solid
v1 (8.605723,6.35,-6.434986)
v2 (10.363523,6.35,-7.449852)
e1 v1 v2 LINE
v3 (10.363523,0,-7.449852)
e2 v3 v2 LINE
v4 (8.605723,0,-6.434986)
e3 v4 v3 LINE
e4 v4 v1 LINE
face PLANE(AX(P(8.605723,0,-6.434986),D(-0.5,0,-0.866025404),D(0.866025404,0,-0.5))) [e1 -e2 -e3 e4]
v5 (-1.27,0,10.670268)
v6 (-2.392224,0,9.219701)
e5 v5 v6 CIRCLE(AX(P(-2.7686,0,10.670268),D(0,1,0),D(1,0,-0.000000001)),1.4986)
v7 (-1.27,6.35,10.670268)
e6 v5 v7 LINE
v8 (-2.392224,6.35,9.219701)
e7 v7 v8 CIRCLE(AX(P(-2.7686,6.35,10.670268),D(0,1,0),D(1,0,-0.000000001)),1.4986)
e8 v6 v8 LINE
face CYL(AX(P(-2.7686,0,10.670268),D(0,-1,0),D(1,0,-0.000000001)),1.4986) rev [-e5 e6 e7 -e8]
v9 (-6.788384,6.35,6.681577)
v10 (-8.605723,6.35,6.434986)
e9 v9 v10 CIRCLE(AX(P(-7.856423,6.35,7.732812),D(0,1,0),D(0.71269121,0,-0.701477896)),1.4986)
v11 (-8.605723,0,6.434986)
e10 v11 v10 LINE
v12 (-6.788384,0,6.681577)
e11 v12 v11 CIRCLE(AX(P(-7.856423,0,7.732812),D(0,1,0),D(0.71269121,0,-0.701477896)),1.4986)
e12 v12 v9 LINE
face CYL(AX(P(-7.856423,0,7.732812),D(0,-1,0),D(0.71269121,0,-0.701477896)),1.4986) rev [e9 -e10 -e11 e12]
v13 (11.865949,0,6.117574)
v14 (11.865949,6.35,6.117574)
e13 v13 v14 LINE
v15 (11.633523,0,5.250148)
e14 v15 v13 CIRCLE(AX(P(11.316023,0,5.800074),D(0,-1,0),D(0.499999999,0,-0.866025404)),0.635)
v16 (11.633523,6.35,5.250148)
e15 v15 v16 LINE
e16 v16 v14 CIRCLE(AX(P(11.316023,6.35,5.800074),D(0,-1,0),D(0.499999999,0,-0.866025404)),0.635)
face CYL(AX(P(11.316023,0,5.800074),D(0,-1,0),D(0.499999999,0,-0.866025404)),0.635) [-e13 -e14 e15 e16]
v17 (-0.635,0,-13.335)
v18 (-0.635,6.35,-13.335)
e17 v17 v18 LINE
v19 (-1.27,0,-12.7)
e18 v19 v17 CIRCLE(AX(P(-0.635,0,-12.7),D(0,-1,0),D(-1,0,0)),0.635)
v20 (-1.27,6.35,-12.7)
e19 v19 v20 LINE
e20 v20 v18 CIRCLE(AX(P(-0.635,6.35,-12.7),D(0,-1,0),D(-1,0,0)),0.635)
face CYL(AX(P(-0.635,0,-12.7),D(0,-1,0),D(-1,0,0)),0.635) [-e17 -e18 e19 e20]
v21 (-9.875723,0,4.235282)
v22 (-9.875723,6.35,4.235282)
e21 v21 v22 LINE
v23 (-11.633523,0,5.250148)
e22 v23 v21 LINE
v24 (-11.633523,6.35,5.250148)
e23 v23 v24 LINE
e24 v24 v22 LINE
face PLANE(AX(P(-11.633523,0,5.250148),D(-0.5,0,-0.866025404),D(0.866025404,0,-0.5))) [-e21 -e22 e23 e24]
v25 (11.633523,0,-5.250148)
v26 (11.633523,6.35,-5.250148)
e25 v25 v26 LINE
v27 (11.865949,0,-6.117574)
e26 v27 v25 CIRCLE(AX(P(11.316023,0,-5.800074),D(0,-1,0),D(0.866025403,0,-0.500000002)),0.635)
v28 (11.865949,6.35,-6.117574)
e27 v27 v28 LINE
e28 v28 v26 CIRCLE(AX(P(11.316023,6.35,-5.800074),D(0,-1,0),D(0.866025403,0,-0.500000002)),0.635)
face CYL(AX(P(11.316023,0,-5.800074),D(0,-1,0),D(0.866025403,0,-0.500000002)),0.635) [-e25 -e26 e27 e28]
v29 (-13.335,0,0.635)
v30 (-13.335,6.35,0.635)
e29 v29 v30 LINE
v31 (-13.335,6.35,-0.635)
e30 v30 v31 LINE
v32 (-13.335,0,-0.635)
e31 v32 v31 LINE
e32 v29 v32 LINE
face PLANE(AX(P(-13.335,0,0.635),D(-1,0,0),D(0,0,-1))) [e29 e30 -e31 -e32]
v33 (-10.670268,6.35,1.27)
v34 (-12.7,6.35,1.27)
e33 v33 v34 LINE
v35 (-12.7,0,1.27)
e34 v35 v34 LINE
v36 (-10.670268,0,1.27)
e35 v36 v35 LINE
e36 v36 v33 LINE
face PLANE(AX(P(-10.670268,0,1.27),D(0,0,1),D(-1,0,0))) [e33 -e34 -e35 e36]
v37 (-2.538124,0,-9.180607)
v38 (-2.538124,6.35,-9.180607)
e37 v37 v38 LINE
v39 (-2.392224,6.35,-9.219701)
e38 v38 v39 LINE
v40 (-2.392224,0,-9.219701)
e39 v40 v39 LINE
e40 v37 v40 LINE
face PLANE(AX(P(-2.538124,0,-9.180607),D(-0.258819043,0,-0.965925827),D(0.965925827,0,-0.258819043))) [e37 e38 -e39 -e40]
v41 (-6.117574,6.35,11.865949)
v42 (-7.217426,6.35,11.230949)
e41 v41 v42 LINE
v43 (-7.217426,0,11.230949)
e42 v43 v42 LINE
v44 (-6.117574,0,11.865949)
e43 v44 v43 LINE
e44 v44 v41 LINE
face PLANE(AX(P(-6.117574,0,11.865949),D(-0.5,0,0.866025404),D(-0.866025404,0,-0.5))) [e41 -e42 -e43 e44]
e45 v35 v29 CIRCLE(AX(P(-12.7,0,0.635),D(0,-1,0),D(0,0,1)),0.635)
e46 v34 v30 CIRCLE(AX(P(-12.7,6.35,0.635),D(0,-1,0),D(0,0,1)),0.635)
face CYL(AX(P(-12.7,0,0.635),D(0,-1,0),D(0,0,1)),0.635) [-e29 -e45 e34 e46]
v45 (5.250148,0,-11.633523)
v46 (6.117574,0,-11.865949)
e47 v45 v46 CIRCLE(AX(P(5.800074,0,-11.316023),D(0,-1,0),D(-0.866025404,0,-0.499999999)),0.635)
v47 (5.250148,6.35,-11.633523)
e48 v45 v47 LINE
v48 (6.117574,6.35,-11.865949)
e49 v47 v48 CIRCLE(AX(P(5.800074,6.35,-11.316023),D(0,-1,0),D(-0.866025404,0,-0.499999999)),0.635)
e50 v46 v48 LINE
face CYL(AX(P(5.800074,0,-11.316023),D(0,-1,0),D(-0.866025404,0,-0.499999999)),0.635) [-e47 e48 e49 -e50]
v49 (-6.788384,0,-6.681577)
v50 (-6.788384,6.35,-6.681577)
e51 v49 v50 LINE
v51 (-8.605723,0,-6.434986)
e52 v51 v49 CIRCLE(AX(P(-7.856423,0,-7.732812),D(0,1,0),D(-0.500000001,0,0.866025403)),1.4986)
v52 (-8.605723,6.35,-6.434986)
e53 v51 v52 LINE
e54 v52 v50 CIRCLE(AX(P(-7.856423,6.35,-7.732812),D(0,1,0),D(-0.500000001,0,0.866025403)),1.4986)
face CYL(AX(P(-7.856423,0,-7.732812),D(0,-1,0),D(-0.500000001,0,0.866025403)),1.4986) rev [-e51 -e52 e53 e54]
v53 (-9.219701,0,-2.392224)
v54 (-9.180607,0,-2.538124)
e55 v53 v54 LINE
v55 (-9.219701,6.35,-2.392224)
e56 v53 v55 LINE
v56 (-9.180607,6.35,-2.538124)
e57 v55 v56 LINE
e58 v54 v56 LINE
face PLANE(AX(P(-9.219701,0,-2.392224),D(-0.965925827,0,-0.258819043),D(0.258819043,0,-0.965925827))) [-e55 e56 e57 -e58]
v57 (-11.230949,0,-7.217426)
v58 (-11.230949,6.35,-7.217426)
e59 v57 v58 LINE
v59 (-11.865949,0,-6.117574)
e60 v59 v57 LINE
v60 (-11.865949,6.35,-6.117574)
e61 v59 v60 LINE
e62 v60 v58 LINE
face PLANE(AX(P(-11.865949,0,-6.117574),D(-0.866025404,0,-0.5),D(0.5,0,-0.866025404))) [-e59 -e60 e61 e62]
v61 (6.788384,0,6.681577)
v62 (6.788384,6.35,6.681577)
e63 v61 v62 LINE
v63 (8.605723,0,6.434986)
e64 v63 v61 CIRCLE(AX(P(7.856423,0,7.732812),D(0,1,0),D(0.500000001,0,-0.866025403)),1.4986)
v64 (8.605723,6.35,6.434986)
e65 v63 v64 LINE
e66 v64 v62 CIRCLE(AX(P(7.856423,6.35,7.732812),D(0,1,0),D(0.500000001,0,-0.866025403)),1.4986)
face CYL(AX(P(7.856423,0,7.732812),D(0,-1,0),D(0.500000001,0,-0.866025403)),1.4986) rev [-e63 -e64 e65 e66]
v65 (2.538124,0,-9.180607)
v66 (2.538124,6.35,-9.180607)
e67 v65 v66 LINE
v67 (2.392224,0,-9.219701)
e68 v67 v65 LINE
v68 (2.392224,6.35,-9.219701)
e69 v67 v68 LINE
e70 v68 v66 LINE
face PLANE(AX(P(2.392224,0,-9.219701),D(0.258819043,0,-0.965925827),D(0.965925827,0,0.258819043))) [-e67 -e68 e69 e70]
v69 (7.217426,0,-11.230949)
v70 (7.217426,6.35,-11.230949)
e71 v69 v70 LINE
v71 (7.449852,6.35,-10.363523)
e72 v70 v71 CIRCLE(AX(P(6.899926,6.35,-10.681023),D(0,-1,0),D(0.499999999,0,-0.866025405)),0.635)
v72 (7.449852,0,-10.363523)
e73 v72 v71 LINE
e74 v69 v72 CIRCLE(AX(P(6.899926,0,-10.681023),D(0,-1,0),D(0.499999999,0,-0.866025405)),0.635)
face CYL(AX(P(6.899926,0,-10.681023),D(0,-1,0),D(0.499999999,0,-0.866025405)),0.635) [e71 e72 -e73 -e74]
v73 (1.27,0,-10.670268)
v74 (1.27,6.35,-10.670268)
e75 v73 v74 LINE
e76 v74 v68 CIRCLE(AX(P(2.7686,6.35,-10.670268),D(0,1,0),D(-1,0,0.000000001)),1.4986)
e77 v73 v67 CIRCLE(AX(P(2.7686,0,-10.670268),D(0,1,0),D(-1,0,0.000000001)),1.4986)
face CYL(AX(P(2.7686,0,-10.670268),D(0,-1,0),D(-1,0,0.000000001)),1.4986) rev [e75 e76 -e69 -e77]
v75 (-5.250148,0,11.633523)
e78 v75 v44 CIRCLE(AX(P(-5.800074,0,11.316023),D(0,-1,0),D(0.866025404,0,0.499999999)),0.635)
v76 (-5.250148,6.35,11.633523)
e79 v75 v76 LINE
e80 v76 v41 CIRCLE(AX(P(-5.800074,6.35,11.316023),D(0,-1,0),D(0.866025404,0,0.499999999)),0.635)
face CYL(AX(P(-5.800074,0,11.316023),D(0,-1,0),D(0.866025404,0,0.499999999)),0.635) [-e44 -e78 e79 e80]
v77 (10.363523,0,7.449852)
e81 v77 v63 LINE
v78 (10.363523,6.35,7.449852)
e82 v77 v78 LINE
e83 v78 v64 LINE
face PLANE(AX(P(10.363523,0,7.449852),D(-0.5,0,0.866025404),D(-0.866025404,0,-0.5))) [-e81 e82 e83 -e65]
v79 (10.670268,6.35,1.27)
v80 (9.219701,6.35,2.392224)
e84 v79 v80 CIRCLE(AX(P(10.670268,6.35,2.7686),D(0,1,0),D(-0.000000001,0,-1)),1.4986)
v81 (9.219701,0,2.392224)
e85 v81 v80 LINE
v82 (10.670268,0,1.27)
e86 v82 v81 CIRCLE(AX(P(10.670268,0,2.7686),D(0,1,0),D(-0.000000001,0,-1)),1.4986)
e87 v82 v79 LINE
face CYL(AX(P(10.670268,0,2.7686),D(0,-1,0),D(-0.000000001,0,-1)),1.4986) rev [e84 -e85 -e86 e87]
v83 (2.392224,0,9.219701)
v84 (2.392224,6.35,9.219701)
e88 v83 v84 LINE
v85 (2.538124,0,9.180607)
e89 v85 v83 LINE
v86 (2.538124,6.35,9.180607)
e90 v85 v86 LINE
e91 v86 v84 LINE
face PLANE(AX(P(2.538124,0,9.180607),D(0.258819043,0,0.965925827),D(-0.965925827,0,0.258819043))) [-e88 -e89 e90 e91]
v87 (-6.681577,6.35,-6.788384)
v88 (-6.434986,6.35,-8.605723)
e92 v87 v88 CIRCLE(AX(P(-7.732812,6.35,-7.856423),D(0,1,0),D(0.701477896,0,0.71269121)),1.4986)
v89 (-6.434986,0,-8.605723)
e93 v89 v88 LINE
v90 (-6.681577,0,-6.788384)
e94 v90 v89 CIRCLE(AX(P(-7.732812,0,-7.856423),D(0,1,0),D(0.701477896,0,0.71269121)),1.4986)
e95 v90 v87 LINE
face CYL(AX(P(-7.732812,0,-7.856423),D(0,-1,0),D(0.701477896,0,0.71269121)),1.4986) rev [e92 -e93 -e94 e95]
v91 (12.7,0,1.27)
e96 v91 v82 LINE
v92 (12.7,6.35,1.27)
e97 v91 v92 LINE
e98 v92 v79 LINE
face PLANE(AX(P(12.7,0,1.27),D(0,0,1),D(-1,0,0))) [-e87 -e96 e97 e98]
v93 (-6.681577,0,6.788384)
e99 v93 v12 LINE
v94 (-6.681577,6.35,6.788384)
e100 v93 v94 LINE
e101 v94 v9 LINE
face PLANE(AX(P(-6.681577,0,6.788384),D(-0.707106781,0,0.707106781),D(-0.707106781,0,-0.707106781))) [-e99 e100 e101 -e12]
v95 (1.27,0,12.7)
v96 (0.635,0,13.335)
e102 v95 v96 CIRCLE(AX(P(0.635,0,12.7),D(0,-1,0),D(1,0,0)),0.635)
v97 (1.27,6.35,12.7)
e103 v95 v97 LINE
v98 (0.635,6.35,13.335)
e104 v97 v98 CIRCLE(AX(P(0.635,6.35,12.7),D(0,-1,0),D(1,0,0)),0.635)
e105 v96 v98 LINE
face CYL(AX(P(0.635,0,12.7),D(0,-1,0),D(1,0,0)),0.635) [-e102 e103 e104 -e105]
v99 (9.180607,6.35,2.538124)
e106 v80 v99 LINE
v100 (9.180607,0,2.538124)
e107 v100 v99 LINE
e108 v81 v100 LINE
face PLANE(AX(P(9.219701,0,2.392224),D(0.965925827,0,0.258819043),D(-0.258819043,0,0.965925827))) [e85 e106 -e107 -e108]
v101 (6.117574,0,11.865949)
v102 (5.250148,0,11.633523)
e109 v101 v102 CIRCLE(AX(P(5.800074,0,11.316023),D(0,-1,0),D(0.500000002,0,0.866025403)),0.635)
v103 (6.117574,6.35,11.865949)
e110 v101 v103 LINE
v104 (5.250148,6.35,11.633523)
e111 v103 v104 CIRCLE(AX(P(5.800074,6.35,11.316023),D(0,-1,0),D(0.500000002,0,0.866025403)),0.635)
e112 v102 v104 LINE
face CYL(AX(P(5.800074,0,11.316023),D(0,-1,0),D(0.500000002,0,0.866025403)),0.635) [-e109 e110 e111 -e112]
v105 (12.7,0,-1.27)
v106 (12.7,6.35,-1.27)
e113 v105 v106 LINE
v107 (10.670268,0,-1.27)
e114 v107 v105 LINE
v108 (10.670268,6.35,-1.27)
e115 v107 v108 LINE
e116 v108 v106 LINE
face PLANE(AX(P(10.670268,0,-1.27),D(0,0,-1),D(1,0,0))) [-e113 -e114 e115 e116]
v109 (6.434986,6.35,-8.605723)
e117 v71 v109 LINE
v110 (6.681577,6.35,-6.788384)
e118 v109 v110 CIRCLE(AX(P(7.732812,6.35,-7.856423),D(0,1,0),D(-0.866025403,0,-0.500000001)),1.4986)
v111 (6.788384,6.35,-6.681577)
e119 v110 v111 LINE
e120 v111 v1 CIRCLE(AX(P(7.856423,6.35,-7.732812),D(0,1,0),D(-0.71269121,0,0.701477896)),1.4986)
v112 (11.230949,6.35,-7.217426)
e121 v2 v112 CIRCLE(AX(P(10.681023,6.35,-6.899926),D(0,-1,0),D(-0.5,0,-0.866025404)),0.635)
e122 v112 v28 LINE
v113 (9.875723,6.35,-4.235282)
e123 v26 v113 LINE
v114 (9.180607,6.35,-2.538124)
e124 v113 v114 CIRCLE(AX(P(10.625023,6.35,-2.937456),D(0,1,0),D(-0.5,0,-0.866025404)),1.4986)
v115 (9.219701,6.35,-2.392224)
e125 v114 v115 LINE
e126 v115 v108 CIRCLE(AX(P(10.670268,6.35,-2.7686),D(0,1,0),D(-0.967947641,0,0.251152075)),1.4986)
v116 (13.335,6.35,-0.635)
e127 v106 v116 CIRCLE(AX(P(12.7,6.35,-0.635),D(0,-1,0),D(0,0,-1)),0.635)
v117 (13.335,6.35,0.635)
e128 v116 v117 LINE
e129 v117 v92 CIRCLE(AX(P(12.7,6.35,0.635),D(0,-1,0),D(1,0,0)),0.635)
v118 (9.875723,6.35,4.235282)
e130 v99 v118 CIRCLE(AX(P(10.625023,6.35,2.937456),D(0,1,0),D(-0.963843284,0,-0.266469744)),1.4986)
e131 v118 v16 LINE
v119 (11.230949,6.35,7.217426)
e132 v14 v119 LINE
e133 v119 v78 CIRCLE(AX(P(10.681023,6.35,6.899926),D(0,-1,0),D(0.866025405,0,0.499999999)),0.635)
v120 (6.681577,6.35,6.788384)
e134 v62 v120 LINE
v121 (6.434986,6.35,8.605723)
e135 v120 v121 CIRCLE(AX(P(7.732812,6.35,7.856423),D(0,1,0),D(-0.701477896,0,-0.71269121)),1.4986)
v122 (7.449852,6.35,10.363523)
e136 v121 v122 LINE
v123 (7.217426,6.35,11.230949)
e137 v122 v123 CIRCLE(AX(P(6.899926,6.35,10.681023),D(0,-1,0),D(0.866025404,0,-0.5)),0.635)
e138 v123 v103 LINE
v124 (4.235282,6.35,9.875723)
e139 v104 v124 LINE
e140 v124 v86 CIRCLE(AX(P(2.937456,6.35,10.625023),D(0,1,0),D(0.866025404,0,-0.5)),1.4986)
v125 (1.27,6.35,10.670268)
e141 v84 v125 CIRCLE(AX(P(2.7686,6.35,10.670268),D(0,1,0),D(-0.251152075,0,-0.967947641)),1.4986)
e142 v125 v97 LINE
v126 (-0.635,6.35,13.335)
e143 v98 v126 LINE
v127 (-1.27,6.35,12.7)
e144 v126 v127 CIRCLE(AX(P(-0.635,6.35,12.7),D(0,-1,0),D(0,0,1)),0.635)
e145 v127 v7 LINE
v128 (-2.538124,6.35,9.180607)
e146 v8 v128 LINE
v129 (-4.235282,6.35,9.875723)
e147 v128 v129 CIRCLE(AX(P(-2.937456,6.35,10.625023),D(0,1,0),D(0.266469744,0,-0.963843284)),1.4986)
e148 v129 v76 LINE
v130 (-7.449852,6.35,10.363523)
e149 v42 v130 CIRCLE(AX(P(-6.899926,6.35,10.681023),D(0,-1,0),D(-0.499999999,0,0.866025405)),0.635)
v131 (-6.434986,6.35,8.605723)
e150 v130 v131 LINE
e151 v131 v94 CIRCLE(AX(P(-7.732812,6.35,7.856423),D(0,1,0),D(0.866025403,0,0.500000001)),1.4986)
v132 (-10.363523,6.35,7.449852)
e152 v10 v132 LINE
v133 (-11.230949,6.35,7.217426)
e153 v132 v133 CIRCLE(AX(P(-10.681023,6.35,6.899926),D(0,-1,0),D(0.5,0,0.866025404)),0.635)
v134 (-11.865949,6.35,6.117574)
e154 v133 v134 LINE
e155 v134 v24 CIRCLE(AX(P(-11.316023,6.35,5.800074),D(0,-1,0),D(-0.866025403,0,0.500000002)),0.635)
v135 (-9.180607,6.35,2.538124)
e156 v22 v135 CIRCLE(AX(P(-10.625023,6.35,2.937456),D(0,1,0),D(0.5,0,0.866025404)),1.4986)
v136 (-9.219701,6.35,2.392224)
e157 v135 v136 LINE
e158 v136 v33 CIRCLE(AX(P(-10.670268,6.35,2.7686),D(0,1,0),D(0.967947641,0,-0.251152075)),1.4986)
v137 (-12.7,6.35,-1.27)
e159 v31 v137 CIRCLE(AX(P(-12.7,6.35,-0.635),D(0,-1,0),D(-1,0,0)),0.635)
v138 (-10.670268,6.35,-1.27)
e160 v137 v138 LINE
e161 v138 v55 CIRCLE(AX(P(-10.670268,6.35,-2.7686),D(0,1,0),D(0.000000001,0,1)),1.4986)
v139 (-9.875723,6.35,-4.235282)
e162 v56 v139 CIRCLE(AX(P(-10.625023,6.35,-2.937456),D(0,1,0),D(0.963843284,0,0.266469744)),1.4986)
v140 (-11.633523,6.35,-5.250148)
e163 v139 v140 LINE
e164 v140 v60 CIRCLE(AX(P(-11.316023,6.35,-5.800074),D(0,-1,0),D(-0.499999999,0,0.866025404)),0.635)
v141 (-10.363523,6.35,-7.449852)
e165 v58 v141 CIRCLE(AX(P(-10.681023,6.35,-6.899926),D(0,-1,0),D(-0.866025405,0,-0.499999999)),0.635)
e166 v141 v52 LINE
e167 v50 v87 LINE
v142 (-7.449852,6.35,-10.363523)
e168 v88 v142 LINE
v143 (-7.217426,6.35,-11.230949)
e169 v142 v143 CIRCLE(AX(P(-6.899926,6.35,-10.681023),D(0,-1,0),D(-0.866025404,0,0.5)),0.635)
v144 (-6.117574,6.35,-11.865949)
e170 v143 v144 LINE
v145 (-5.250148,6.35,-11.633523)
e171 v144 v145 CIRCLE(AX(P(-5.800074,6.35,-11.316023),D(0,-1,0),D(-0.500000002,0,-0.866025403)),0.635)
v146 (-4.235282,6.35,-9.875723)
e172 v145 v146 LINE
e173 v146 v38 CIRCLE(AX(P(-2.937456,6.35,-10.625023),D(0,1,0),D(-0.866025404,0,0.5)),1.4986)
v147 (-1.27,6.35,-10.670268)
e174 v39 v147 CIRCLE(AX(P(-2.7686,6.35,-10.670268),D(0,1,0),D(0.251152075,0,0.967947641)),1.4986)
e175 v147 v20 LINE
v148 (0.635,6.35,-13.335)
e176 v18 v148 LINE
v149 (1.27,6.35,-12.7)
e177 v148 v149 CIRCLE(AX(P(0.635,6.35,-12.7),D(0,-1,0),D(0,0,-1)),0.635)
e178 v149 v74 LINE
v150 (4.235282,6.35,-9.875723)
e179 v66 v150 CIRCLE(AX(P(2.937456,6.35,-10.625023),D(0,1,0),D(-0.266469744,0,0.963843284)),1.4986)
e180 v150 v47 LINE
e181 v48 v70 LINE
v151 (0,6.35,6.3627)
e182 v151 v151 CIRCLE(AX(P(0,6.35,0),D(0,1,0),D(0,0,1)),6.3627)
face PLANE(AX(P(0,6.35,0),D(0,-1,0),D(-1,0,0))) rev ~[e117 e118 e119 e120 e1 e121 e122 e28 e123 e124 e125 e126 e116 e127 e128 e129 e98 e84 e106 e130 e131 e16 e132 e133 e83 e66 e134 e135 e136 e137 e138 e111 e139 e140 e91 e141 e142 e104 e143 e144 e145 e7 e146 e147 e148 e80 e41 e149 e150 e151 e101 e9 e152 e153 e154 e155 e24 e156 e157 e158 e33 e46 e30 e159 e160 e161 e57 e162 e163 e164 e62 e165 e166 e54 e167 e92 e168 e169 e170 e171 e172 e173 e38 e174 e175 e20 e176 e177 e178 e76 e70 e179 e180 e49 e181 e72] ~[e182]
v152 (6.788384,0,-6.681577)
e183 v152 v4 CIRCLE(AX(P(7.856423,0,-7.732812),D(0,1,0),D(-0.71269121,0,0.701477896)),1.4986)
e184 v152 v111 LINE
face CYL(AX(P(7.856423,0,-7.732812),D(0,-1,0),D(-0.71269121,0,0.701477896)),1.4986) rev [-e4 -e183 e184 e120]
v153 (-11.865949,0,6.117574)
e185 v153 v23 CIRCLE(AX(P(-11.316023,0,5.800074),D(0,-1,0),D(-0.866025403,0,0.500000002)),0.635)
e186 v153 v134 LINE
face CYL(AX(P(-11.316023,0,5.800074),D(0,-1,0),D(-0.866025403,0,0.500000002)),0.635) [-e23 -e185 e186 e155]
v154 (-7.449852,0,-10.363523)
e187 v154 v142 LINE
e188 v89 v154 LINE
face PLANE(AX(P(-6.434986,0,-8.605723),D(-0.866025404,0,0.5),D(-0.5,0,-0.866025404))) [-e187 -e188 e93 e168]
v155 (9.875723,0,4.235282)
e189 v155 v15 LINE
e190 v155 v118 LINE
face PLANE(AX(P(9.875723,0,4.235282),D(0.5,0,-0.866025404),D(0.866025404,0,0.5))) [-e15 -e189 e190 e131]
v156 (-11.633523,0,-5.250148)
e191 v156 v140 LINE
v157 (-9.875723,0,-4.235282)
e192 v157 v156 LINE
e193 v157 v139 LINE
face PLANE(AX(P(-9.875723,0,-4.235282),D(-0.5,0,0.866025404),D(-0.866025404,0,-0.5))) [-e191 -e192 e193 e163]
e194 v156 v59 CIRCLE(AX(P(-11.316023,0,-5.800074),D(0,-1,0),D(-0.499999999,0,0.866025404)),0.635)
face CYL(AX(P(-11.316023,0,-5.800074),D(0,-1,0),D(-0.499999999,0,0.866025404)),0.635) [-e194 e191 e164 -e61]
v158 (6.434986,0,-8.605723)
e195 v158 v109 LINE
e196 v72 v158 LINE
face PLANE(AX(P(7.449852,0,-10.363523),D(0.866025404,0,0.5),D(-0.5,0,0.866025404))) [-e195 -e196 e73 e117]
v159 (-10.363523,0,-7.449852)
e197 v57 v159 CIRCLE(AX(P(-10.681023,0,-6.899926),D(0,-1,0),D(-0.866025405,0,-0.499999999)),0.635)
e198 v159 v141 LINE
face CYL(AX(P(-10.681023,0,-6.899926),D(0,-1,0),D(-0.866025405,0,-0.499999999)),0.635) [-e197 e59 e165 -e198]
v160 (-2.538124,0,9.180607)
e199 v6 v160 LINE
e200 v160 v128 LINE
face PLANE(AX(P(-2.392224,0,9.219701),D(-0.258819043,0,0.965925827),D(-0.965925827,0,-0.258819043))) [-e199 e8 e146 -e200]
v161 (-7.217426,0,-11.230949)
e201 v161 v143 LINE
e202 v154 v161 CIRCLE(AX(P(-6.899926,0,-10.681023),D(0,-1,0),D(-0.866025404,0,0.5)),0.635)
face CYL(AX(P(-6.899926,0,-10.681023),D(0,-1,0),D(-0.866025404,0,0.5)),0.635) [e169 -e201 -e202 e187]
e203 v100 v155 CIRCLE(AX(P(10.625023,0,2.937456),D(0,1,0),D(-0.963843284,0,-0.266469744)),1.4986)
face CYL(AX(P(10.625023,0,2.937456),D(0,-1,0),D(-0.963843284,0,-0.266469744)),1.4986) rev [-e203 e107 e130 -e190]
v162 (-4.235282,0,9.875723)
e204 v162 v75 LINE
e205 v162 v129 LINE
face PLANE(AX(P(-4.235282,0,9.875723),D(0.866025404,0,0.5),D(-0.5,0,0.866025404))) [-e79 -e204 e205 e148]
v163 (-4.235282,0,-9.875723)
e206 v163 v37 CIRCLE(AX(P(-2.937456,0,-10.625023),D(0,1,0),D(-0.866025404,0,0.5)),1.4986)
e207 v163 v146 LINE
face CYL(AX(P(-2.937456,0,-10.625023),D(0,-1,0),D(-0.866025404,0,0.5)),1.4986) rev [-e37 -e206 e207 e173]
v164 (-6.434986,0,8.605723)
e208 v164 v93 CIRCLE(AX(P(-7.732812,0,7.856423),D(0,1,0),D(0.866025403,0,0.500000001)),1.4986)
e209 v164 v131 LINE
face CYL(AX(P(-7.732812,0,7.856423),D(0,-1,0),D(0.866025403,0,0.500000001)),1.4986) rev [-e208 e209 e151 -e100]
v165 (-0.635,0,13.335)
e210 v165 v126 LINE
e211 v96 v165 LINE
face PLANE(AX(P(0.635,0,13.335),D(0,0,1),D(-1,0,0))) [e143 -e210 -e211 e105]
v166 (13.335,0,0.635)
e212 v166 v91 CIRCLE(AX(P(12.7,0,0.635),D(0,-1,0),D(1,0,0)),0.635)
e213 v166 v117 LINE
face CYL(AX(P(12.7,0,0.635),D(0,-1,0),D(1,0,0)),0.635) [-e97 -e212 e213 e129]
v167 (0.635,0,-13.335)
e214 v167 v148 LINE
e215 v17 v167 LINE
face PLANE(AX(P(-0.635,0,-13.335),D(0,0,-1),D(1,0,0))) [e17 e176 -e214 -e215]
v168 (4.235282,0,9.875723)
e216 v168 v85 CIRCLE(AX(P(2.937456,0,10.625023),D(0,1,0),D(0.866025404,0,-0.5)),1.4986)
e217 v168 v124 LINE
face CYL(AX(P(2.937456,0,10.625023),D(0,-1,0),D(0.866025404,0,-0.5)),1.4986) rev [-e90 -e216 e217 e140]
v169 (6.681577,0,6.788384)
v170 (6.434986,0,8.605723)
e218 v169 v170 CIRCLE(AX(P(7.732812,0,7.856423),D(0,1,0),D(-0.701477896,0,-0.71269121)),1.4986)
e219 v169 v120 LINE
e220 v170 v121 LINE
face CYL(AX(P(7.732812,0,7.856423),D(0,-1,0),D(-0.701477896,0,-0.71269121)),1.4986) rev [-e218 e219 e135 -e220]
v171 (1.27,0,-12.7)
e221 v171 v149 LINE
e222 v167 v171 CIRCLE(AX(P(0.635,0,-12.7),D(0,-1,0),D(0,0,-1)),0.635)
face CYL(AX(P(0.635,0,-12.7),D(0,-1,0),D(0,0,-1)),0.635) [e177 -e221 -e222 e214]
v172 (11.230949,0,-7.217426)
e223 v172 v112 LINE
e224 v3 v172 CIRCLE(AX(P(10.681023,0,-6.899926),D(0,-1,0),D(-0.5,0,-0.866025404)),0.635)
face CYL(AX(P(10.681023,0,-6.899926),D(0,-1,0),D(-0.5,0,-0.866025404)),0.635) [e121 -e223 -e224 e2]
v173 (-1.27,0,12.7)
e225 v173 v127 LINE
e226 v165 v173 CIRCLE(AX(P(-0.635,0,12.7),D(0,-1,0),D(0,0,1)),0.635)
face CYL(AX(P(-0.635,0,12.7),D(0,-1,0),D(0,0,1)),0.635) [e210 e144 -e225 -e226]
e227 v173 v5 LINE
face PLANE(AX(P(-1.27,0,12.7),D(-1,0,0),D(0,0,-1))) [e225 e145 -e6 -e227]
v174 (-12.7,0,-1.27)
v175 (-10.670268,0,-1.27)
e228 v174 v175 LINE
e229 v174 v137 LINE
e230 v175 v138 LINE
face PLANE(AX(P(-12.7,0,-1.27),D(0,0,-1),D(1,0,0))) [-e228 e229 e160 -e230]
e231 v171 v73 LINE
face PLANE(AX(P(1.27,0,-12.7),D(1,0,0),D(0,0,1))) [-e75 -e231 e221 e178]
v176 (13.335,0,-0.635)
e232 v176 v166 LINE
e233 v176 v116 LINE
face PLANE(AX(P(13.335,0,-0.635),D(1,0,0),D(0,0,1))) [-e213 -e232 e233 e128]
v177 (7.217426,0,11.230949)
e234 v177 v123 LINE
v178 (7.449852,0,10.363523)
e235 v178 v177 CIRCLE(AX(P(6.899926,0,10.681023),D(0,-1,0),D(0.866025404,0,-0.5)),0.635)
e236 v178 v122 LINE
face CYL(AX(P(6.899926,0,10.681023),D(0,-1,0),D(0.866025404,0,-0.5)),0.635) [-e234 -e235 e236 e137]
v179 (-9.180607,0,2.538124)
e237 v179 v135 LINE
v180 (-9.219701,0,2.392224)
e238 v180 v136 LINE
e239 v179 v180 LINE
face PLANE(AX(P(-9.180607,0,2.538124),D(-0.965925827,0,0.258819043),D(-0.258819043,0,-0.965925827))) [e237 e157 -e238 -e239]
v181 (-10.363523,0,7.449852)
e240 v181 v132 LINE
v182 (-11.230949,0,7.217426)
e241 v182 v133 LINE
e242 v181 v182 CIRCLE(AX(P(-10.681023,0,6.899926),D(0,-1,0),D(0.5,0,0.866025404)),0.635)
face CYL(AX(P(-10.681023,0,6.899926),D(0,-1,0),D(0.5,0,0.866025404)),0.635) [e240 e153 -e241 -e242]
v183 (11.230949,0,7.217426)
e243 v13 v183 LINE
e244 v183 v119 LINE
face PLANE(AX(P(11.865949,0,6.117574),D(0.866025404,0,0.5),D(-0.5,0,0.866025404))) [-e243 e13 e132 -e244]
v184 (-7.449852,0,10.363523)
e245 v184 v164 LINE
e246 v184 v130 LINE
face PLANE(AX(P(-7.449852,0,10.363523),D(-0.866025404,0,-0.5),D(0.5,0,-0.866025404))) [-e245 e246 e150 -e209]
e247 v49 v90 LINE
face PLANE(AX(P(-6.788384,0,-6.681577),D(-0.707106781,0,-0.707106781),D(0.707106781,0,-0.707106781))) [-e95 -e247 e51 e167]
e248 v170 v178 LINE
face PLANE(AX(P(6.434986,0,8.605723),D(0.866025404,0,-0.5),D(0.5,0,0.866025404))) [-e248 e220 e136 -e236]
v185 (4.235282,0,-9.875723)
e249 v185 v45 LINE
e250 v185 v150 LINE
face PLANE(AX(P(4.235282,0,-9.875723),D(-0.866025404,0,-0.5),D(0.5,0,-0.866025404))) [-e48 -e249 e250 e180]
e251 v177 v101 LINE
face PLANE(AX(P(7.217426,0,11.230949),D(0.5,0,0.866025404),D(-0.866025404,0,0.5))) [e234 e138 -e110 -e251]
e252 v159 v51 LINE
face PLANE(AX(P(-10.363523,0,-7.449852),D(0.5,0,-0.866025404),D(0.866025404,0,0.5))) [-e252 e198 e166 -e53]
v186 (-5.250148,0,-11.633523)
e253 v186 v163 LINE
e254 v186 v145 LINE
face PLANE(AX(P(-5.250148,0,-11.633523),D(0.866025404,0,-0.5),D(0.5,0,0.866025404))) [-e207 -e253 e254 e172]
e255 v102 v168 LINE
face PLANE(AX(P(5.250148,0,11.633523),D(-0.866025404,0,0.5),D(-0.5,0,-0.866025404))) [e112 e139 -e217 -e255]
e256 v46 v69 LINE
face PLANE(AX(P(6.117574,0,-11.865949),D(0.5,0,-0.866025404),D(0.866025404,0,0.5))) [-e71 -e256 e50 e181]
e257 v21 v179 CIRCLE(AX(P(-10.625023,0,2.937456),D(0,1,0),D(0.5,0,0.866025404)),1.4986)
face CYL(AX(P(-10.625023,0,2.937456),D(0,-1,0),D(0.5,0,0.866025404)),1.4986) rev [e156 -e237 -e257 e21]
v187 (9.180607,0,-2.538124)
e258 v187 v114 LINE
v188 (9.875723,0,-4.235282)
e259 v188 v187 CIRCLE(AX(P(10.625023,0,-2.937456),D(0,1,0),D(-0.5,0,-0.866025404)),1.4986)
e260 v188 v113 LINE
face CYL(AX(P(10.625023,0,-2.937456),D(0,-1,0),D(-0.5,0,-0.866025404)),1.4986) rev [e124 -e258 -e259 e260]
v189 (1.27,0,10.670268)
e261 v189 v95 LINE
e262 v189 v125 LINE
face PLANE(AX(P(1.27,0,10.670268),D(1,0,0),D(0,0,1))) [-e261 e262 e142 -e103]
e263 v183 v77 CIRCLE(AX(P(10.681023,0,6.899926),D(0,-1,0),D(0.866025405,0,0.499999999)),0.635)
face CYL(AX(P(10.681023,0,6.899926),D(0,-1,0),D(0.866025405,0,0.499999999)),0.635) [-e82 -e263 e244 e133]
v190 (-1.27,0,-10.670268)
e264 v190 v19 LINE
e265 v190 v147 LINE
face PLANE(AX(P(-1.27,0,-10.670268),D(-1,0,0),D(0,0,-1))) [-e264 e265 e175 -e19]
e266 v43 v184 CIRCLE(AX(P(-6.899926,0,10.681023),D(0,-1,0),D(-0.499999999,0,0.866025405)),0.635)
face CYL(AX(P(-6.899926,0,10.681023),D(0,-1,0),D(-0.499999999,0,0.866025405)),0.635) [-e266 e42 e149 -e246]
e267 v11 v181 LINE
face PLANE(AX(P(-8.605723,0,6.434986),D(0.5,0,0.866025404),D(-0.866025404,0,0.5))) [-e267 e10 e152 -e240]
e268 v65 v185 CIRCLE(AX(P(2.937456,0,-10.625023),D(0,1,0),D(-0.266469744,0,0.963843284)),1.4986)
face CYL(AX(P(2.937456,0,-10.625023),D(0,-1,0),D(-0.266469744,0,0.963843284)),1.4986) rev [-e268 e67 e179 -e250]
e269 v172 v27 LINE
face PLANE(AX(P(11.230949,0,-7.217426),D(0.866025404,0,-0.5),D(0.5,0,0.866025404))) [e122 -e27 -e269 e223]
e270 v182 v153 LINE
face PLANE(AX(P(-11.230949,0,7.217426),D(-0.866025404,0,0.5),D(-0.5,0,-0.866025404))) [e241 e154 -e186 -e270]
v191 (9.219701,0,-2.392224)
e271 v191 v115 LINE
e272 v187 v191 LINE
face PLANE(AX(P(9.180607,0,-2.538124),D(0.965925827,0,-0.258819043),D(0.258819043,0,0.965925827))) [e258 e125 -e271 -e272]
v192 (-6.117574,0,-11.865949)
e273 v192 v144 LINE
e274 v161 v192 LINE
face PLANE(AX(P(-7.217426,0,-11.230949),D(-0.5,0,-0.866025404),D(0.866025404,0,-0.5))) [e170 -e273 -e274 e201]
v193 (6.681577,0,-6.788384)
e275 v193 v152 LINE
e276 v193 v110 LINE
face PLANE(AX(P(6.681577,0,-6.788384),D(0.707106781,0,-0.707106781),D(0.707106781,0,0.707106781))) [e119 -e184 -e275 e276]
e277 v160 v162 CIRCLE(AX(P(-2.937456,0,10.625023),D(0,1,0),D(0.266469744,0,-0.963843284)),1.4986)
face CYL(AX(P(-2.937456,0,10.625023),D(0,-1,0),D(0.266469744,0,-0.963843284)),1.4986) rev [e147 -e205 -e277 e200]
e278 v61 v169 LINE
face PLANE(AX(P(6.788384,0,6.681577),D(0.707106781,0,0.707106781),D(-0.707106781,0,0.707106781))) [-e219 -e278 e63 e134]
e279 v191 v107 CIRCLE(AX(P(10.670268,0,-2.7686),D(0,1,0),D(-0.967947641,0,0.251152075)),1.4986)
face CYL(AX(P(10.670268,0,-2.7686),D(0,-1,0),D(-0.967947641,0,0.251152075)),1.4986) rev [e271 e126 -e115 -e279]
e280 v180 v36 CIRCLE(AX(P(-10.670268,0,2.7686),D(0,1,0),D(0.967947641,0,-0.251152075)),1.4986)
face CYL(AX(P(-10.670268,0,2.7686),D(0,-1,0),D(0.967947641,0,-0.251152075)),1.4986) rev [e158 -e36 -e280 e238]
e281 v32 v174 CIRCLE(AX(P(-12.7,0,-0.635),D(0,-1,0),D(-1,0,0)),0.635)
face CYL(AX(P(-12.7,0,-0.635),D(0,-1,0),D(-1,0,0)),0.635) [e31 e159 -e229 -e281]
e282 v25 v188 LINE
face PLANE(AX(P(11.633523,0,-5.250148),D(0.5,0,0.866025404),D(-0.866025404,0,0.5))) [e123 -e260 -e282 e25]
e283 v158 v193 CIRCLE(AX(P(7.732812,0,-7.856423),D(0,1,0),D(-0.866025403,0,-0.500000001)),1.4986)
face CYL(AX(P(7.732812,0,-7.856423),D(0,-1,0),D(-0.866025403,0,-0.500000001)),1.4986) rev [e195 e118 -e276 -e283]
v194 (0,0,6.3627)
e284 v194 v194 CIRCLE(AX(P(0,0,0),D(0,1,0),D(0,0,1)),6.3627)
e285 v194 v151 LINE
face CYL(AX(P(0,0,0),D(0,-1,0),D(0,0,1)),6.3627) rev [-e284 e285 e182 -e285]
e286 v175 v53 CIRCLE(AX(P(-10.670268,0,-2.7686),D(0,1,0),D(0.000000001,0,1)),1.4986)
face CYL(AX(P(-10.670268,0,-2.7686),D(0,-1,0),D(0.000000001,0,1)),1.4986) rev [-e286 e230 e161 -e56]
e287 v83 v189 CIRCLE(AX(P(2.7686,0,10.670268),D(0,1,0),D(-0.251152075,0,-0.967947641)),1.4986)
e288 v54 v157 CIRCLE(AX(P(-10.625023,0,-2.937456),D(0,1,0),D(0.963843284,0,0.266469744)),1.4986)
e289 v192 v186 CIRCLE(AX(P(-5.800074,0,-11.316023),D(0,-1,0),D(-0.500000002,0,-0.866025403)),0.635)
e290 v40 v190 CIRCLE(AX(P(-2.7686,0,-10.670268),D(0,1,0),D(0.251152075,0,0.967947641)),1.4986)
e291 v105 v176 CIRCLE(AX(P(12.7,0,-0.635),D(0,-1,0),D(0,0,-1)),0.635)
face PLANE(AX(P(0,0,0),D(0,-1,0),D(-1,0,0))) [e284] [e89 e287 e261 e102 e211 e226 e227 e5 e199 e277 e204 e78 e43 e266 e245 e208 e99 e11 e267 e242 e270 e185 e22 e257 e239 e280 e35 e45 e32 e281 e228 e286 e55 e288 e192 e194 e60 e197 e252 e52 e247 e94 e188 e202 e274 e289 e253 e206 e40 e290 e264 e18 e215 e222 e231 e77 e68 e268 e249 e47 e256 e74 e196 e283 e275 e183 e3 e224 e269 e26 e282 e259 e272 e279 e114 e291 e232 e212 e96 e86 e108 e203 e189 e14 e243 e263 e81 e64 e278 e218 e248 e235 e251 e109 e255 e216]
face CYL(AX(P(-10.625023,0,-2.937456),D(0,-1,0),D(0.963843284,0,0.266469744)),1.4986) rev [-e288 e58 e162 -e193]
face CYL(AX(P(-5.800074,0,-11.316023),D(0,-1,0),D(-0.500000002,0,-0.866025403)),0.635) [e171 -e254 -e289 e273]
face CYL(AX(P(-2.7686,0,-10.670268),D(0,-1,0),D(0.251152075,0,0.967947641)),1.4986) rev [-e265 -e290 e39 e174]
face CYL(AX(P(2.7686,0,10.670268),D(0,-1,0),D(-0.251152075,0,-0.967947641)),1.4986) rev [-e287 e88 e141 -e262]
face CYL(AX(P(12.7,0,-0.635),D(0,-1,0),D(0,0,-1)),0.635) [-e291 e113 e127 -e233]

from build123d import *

# Parameters (mm, degrees)
SKETCH1_R           = 6.3627
BOSS_EXTRUDE1_DEPTH = 6.35


with BuildPart() as part:
    # Sketch1 → Boss-Extrude1 (new body)
    with BuildSketch(Plane(origin=(0, 0, 0), x_dir=(1, 0, 0), z_dir=(0, 1, 0))):
        with BuildLine():
            Line((-1.27, 10.670267616), (-1.27, 12.7))
            ThreePointArc((-1.27, 12.7), (-1.084012806, 13.149012806), (-0.635, 13.335))
            Line((-0.635, 13.335), (0.635, 13.335))
            ThreePointArc((0.635, 13.335), (1.084012806, 13.149012806), (1.27, 12.7))
            Line((1.27, 12.7), (1.27, 10.670267616))
            ThreePointArc((1.27, 10.670267616), (1.583306834, 9.753271395), (2.392223502, 9.219701281))
            Line((2.392223502, 9.219701281), (2.538124316, 9.180607276))
            ThreePointArc((2.538124316, 9.180607276), (3.505451757, 9.238234215), (4.235281545, 9.875722821))
            Line((4.235281545, 9.875722821), (5.250147737, 11.633522628))
            ThreePointArc((5.250147737, 11.633522628), (5.635723775, 11.929385528), (6.117573869, 11.865948759))
            Line((6.117573869, 11.865948759), (7.217426131, 11.230948759))
            ThreePointArc((7.217426131, 11.230948759), (7.513289031, 10.845372722), (7.449852263, 10.363522628))
            Line((7.449852263, 10.363522628), (6.434986071, 8.605722821))
            ThreePointArc((6.434986071, 8.605722821), (6.247819637, 7.654927381), (6.681576965, 6.788383774))
            Line((6.681576965, 6.788383774), (6.788383774, 6.681576965))
            ThreePointArc((6.788383774, 6.681576965), (7.654927381, 6.247819637), (8.605722821, 6.434986071))
            Line((8.605722821, 6.434986071), (10.363522628, 7.449852263))
            ThreePointArc((10.363522628, 7.449852263), (10.845372722, 7.513289031), (11.230948759, 7.217426131))
            Line((11.230948759, 7.217426131), (11.865948759, 6.117573869))
            ThreePointArc((11.865948759, 6.117573869), (11.929385528, 5.635723775), (11.633522628, 5.250147737))
            Line((11.633522628, 5.250147737), (9.875722821, 4.235281545))
            ThreePointArc((9.875722821, 4.235281545), (9.238234215, 3.505451757), (9.180607276, 2.538124316))
            Line((9.180607276, 2.538124316), (9.219701281, 2.392223502))
            ThreePointArc((9.219701281, 2.392223502), (9.753271395, 1.583306834), (10.670267616, 1.27))
            Line((10.670267616, 1.27), (12.7, 1.27))
            ThreePointArc((12.7, 1.27), (13.149012806, 1.084012806), (13.335, 0.635))
            Line((13.335, 0.635), (13.335, -0.635))
            ThreePointArc((13.335, -0.635), (13.149012806, -1.084012806), (12.7, -1.27))
            Line((12.7, -1.27), (10.670267616, -1.27))
            ThreePointArc((10.670267616, -1.27), (9.753271395, -1.583306834), (9.219701281, -2.392223502))
            Line((9.219701281, -2.392223502), (9.180607276, -2.538124316))
            ThreePointArc((9.180607276, -2.538124316), (9.238234215, -3.505451757), (9.875722821, -4.235281545))
            Line((9.875722821, -4.235281545), (11.633522628, -5.250147737))
            ThreePointArc((11.633522628, -5.250147737), (11.929385528, -5.635723775), (11.865948759, -6.117573869))
            Line((11.865948759, -6.117573869), (11.230948759, -7.217426131))
            ThreePointArc((11.230948759, -7.217426131), (10.845372722, -7.513289031), (10.363522628, -7.449852263))
            Line((10.363522628, -7.449852263), (8.605722821, -6.434986071))
            ThreePointArc((8.605722821, -6.434986071), (7.654927381, -6.247819637), (6.788383774, -6.681576965))
            Line((6.788383774, -6.681576965), (6.681576965, -6.788383774))
            ThreePointArc((6.681576965, -6.788383774), (6.247819637, -7.654927381), (6.434986071, -8.605722821))
            Line((6.434986071, -8.605722821), (7.449852263, -10.363522628))
            ThreePointArc((7.449852263, -10.363522628), (7.513289031, -10.845372722), (7.217426131, -11.230948759))
            Line((7.217426131, -11.230948759), (6.117573869, -11.865948759))
            ThreePointArc((6.117573869, -11.865948759), (5.635723775, -11.929385528), (5.250147737, -11.633522628))
            Line((5.250147737, -11.633522628), (4.235281545, -9.875722821))
            ThreePointArc((4.235281545, -9.875722821), (3.505451757, -9.238234215), (2.538124316, -9.180607276))
            Line((2.538124316, -9.180607276), (2.392223502, -9.219701281))
            ThreePointArc((2.392223502, -9.219701281), (1.583306834, -9.753271395), (1.27, -10.670267616))
            Line((1.27, -10.670267616), (1.27, -12.7))
            ThreePointArc((1.27, -12.7), (1.084012806, -13.149012806), (0.635, -13.335))
            Line((0.635, -13.335), (-0.635, -13.335))
            ThreePointArc((-0.635, -13.335), (-1.084012806, -13.149012806), (-1.27, -12.7))
            Line((-1.27, -12.7), (-1.27, -10.670267616))
            ThreePointArc((-1.27, -10.670267616), (-1.583306834, -9.753271395), (-2.392223502, -9.219701281))
            Line((-2.392223502, -9.219701281), (-2.538124316, -9.180607276))
            ThreePointArc((-2.538124316, -9.180607276), (-3.505451757, -9.238234215), (-4.235281545, -9.875722821))
            Line((-4.235281545, -9.875722821), (-5.250147737, -11.633522628))
            ThreePointArc((-5.250147737, -11.633522628), (-5.635723775, -11.929385528), (-6.117573869, -11.865948759))
            Line((-6.117573869, -11.865948759), (-7.217426131, -11.230948759))
            ThreePointArc((-7.217426131, -11.230948759), (-7.513289031, -10.845372722), (-7.449852263, -10.363522628))
            Line((-7.449852263, -10.363522628), (-6.434986071, -8.605722821))
            ThreePointArc((-6.434986071, -8.605722821), (-6.247819637, -7.654927381), (-6.681576965, -6.788383774))
            Line((-6.681576965, -6.788383774), (-6.788383774, -6.681576965))
            ThreePointArc((-6.788383774, -6.681576965), (-7.654927381, -6.247819637), (-8.605722821, -6.434986071))
            Line((-8.605722821, -6.434986071), (-10.363522628, -7.449852263))
            ThreePointArc((-10.363522628, -7.449852263), (-10.845372722, -7.513289031), (-11.230948759, -7.217426131))
            Line((-11.230948759, -7.217426131), (-11.865948759, -6.117573869))
            ThreePointArc((-11.865948759, -6.117573869), (-11.929385528, -5.635723775), (-11.633522628, -5.250147737))
            Line((-11.633522628, -5.250147737), (-9.875722821, -4.235281545))
            ThreePointArc((-9.875722821, -4.235281545), (-9.238234215, -3.505451757), (-9.180607276, -2.538124316))
            Line((-9.180607276, -2.538124316), (-9.219701281, -2.392223502))
            ThreePointArc((-9.219701281, -2.392223502), (-9.753271395, -1.583306834), (-10.670267616, -1.27))
            Line((-10.670267616, -1.27), (-12.7, -1.27))
            ThreePointArc((-12.7, -1.27), (-13.149012806, -1.084012806), (-13.335, -0.635))
            Line((-13.335, -0.635), (-13.335, 0.635))
            ThreePointArc((-13.335, 0.635), (-13.149012806, 1.084012806), (-12.7, 1.27))
            Line((-12.7, 1.27), (-10.670267616, 1.27))
            ThreePointArc((-10.670267616, 1.27), (-9.753271395, 1.583306834), (-9.219701281, 2.392223502))
            Line((-9.219701281, 2.392223502), (-9.180607276, 2.538124316))
            ThreePointArc((-9.180607276, 2.538124316), (-9.238234215, 3.505451757), (-9.875722821, 4.235281545))
            Line((-9.875722821, 4.235281545), (-11.633522628, 5.250147737))
            ThreePointArc((-11.633522628, 5.250147737), (-11.929385528, 5.635723775), (-11.865948759, 6.117573869))
            Line((-11.865948759, 6.117573869), (-11.230948759, 7.217426131))
            ThreePointArc((-11.230948759, 7.217426131), (-10.845372722, 7.513289031), (-10.363522628, 7.449852263))
            Line((-10.363522628, 7.449852263), (-8.605722821, 6.434986071))
            ThreePointArc((-8.605722821, 6.434986071), (-7.654927381, 6.247819637), (-6.788383774, 6.681576965))
            Line((-6.788383774, 6.681576965), (-6.681576965, 6.788383774))
            ThreePointArc((-6.681576965, 6.788383774), (-6.247819637, 7.654927381), (-6.434986071, 8.605722821))
            Line((-6.434986071, 8.605722821), (-7.449852263, 10.363522628))
            ThreePointArc((-7.449852263, 10.363522628), (-7.513289031, 10.845372722), (-7.217426131, 11.230948759))
            Line((-7.217426131, 11.230948759), (-6.117573869, 11.865948759))
            ThreePointArc((-6.117573869, 11.865948759), (-5.635723775, 11.929385528), (-5.250147737, 11.633522628))
            Line((-5.250147737, 11.633522628), (-4.235281545, 9.875722821))
            ThreePointArc((-4.235281545, 9.875722821), (-3.505451757, 9.238234215), (-2.538124316, 9.180607276))
            Line((-2.538124316, 9.180607276), (-2.392223502, 9.219701281))
            ThreePointArc((-2.392223502, 9.219701281), (-1.583306834, 9.753271395), (-1.27, 10.670267616))
        make_face()
        with Locations(Location((0, 0, 0), (0, 0, 270))):
            Circle(SKETCH1_R, mode=Mode.SUBTRACT)
    extrude(amount=BOSS_EXTRUDE1_DEPTH)


solid = part.part
